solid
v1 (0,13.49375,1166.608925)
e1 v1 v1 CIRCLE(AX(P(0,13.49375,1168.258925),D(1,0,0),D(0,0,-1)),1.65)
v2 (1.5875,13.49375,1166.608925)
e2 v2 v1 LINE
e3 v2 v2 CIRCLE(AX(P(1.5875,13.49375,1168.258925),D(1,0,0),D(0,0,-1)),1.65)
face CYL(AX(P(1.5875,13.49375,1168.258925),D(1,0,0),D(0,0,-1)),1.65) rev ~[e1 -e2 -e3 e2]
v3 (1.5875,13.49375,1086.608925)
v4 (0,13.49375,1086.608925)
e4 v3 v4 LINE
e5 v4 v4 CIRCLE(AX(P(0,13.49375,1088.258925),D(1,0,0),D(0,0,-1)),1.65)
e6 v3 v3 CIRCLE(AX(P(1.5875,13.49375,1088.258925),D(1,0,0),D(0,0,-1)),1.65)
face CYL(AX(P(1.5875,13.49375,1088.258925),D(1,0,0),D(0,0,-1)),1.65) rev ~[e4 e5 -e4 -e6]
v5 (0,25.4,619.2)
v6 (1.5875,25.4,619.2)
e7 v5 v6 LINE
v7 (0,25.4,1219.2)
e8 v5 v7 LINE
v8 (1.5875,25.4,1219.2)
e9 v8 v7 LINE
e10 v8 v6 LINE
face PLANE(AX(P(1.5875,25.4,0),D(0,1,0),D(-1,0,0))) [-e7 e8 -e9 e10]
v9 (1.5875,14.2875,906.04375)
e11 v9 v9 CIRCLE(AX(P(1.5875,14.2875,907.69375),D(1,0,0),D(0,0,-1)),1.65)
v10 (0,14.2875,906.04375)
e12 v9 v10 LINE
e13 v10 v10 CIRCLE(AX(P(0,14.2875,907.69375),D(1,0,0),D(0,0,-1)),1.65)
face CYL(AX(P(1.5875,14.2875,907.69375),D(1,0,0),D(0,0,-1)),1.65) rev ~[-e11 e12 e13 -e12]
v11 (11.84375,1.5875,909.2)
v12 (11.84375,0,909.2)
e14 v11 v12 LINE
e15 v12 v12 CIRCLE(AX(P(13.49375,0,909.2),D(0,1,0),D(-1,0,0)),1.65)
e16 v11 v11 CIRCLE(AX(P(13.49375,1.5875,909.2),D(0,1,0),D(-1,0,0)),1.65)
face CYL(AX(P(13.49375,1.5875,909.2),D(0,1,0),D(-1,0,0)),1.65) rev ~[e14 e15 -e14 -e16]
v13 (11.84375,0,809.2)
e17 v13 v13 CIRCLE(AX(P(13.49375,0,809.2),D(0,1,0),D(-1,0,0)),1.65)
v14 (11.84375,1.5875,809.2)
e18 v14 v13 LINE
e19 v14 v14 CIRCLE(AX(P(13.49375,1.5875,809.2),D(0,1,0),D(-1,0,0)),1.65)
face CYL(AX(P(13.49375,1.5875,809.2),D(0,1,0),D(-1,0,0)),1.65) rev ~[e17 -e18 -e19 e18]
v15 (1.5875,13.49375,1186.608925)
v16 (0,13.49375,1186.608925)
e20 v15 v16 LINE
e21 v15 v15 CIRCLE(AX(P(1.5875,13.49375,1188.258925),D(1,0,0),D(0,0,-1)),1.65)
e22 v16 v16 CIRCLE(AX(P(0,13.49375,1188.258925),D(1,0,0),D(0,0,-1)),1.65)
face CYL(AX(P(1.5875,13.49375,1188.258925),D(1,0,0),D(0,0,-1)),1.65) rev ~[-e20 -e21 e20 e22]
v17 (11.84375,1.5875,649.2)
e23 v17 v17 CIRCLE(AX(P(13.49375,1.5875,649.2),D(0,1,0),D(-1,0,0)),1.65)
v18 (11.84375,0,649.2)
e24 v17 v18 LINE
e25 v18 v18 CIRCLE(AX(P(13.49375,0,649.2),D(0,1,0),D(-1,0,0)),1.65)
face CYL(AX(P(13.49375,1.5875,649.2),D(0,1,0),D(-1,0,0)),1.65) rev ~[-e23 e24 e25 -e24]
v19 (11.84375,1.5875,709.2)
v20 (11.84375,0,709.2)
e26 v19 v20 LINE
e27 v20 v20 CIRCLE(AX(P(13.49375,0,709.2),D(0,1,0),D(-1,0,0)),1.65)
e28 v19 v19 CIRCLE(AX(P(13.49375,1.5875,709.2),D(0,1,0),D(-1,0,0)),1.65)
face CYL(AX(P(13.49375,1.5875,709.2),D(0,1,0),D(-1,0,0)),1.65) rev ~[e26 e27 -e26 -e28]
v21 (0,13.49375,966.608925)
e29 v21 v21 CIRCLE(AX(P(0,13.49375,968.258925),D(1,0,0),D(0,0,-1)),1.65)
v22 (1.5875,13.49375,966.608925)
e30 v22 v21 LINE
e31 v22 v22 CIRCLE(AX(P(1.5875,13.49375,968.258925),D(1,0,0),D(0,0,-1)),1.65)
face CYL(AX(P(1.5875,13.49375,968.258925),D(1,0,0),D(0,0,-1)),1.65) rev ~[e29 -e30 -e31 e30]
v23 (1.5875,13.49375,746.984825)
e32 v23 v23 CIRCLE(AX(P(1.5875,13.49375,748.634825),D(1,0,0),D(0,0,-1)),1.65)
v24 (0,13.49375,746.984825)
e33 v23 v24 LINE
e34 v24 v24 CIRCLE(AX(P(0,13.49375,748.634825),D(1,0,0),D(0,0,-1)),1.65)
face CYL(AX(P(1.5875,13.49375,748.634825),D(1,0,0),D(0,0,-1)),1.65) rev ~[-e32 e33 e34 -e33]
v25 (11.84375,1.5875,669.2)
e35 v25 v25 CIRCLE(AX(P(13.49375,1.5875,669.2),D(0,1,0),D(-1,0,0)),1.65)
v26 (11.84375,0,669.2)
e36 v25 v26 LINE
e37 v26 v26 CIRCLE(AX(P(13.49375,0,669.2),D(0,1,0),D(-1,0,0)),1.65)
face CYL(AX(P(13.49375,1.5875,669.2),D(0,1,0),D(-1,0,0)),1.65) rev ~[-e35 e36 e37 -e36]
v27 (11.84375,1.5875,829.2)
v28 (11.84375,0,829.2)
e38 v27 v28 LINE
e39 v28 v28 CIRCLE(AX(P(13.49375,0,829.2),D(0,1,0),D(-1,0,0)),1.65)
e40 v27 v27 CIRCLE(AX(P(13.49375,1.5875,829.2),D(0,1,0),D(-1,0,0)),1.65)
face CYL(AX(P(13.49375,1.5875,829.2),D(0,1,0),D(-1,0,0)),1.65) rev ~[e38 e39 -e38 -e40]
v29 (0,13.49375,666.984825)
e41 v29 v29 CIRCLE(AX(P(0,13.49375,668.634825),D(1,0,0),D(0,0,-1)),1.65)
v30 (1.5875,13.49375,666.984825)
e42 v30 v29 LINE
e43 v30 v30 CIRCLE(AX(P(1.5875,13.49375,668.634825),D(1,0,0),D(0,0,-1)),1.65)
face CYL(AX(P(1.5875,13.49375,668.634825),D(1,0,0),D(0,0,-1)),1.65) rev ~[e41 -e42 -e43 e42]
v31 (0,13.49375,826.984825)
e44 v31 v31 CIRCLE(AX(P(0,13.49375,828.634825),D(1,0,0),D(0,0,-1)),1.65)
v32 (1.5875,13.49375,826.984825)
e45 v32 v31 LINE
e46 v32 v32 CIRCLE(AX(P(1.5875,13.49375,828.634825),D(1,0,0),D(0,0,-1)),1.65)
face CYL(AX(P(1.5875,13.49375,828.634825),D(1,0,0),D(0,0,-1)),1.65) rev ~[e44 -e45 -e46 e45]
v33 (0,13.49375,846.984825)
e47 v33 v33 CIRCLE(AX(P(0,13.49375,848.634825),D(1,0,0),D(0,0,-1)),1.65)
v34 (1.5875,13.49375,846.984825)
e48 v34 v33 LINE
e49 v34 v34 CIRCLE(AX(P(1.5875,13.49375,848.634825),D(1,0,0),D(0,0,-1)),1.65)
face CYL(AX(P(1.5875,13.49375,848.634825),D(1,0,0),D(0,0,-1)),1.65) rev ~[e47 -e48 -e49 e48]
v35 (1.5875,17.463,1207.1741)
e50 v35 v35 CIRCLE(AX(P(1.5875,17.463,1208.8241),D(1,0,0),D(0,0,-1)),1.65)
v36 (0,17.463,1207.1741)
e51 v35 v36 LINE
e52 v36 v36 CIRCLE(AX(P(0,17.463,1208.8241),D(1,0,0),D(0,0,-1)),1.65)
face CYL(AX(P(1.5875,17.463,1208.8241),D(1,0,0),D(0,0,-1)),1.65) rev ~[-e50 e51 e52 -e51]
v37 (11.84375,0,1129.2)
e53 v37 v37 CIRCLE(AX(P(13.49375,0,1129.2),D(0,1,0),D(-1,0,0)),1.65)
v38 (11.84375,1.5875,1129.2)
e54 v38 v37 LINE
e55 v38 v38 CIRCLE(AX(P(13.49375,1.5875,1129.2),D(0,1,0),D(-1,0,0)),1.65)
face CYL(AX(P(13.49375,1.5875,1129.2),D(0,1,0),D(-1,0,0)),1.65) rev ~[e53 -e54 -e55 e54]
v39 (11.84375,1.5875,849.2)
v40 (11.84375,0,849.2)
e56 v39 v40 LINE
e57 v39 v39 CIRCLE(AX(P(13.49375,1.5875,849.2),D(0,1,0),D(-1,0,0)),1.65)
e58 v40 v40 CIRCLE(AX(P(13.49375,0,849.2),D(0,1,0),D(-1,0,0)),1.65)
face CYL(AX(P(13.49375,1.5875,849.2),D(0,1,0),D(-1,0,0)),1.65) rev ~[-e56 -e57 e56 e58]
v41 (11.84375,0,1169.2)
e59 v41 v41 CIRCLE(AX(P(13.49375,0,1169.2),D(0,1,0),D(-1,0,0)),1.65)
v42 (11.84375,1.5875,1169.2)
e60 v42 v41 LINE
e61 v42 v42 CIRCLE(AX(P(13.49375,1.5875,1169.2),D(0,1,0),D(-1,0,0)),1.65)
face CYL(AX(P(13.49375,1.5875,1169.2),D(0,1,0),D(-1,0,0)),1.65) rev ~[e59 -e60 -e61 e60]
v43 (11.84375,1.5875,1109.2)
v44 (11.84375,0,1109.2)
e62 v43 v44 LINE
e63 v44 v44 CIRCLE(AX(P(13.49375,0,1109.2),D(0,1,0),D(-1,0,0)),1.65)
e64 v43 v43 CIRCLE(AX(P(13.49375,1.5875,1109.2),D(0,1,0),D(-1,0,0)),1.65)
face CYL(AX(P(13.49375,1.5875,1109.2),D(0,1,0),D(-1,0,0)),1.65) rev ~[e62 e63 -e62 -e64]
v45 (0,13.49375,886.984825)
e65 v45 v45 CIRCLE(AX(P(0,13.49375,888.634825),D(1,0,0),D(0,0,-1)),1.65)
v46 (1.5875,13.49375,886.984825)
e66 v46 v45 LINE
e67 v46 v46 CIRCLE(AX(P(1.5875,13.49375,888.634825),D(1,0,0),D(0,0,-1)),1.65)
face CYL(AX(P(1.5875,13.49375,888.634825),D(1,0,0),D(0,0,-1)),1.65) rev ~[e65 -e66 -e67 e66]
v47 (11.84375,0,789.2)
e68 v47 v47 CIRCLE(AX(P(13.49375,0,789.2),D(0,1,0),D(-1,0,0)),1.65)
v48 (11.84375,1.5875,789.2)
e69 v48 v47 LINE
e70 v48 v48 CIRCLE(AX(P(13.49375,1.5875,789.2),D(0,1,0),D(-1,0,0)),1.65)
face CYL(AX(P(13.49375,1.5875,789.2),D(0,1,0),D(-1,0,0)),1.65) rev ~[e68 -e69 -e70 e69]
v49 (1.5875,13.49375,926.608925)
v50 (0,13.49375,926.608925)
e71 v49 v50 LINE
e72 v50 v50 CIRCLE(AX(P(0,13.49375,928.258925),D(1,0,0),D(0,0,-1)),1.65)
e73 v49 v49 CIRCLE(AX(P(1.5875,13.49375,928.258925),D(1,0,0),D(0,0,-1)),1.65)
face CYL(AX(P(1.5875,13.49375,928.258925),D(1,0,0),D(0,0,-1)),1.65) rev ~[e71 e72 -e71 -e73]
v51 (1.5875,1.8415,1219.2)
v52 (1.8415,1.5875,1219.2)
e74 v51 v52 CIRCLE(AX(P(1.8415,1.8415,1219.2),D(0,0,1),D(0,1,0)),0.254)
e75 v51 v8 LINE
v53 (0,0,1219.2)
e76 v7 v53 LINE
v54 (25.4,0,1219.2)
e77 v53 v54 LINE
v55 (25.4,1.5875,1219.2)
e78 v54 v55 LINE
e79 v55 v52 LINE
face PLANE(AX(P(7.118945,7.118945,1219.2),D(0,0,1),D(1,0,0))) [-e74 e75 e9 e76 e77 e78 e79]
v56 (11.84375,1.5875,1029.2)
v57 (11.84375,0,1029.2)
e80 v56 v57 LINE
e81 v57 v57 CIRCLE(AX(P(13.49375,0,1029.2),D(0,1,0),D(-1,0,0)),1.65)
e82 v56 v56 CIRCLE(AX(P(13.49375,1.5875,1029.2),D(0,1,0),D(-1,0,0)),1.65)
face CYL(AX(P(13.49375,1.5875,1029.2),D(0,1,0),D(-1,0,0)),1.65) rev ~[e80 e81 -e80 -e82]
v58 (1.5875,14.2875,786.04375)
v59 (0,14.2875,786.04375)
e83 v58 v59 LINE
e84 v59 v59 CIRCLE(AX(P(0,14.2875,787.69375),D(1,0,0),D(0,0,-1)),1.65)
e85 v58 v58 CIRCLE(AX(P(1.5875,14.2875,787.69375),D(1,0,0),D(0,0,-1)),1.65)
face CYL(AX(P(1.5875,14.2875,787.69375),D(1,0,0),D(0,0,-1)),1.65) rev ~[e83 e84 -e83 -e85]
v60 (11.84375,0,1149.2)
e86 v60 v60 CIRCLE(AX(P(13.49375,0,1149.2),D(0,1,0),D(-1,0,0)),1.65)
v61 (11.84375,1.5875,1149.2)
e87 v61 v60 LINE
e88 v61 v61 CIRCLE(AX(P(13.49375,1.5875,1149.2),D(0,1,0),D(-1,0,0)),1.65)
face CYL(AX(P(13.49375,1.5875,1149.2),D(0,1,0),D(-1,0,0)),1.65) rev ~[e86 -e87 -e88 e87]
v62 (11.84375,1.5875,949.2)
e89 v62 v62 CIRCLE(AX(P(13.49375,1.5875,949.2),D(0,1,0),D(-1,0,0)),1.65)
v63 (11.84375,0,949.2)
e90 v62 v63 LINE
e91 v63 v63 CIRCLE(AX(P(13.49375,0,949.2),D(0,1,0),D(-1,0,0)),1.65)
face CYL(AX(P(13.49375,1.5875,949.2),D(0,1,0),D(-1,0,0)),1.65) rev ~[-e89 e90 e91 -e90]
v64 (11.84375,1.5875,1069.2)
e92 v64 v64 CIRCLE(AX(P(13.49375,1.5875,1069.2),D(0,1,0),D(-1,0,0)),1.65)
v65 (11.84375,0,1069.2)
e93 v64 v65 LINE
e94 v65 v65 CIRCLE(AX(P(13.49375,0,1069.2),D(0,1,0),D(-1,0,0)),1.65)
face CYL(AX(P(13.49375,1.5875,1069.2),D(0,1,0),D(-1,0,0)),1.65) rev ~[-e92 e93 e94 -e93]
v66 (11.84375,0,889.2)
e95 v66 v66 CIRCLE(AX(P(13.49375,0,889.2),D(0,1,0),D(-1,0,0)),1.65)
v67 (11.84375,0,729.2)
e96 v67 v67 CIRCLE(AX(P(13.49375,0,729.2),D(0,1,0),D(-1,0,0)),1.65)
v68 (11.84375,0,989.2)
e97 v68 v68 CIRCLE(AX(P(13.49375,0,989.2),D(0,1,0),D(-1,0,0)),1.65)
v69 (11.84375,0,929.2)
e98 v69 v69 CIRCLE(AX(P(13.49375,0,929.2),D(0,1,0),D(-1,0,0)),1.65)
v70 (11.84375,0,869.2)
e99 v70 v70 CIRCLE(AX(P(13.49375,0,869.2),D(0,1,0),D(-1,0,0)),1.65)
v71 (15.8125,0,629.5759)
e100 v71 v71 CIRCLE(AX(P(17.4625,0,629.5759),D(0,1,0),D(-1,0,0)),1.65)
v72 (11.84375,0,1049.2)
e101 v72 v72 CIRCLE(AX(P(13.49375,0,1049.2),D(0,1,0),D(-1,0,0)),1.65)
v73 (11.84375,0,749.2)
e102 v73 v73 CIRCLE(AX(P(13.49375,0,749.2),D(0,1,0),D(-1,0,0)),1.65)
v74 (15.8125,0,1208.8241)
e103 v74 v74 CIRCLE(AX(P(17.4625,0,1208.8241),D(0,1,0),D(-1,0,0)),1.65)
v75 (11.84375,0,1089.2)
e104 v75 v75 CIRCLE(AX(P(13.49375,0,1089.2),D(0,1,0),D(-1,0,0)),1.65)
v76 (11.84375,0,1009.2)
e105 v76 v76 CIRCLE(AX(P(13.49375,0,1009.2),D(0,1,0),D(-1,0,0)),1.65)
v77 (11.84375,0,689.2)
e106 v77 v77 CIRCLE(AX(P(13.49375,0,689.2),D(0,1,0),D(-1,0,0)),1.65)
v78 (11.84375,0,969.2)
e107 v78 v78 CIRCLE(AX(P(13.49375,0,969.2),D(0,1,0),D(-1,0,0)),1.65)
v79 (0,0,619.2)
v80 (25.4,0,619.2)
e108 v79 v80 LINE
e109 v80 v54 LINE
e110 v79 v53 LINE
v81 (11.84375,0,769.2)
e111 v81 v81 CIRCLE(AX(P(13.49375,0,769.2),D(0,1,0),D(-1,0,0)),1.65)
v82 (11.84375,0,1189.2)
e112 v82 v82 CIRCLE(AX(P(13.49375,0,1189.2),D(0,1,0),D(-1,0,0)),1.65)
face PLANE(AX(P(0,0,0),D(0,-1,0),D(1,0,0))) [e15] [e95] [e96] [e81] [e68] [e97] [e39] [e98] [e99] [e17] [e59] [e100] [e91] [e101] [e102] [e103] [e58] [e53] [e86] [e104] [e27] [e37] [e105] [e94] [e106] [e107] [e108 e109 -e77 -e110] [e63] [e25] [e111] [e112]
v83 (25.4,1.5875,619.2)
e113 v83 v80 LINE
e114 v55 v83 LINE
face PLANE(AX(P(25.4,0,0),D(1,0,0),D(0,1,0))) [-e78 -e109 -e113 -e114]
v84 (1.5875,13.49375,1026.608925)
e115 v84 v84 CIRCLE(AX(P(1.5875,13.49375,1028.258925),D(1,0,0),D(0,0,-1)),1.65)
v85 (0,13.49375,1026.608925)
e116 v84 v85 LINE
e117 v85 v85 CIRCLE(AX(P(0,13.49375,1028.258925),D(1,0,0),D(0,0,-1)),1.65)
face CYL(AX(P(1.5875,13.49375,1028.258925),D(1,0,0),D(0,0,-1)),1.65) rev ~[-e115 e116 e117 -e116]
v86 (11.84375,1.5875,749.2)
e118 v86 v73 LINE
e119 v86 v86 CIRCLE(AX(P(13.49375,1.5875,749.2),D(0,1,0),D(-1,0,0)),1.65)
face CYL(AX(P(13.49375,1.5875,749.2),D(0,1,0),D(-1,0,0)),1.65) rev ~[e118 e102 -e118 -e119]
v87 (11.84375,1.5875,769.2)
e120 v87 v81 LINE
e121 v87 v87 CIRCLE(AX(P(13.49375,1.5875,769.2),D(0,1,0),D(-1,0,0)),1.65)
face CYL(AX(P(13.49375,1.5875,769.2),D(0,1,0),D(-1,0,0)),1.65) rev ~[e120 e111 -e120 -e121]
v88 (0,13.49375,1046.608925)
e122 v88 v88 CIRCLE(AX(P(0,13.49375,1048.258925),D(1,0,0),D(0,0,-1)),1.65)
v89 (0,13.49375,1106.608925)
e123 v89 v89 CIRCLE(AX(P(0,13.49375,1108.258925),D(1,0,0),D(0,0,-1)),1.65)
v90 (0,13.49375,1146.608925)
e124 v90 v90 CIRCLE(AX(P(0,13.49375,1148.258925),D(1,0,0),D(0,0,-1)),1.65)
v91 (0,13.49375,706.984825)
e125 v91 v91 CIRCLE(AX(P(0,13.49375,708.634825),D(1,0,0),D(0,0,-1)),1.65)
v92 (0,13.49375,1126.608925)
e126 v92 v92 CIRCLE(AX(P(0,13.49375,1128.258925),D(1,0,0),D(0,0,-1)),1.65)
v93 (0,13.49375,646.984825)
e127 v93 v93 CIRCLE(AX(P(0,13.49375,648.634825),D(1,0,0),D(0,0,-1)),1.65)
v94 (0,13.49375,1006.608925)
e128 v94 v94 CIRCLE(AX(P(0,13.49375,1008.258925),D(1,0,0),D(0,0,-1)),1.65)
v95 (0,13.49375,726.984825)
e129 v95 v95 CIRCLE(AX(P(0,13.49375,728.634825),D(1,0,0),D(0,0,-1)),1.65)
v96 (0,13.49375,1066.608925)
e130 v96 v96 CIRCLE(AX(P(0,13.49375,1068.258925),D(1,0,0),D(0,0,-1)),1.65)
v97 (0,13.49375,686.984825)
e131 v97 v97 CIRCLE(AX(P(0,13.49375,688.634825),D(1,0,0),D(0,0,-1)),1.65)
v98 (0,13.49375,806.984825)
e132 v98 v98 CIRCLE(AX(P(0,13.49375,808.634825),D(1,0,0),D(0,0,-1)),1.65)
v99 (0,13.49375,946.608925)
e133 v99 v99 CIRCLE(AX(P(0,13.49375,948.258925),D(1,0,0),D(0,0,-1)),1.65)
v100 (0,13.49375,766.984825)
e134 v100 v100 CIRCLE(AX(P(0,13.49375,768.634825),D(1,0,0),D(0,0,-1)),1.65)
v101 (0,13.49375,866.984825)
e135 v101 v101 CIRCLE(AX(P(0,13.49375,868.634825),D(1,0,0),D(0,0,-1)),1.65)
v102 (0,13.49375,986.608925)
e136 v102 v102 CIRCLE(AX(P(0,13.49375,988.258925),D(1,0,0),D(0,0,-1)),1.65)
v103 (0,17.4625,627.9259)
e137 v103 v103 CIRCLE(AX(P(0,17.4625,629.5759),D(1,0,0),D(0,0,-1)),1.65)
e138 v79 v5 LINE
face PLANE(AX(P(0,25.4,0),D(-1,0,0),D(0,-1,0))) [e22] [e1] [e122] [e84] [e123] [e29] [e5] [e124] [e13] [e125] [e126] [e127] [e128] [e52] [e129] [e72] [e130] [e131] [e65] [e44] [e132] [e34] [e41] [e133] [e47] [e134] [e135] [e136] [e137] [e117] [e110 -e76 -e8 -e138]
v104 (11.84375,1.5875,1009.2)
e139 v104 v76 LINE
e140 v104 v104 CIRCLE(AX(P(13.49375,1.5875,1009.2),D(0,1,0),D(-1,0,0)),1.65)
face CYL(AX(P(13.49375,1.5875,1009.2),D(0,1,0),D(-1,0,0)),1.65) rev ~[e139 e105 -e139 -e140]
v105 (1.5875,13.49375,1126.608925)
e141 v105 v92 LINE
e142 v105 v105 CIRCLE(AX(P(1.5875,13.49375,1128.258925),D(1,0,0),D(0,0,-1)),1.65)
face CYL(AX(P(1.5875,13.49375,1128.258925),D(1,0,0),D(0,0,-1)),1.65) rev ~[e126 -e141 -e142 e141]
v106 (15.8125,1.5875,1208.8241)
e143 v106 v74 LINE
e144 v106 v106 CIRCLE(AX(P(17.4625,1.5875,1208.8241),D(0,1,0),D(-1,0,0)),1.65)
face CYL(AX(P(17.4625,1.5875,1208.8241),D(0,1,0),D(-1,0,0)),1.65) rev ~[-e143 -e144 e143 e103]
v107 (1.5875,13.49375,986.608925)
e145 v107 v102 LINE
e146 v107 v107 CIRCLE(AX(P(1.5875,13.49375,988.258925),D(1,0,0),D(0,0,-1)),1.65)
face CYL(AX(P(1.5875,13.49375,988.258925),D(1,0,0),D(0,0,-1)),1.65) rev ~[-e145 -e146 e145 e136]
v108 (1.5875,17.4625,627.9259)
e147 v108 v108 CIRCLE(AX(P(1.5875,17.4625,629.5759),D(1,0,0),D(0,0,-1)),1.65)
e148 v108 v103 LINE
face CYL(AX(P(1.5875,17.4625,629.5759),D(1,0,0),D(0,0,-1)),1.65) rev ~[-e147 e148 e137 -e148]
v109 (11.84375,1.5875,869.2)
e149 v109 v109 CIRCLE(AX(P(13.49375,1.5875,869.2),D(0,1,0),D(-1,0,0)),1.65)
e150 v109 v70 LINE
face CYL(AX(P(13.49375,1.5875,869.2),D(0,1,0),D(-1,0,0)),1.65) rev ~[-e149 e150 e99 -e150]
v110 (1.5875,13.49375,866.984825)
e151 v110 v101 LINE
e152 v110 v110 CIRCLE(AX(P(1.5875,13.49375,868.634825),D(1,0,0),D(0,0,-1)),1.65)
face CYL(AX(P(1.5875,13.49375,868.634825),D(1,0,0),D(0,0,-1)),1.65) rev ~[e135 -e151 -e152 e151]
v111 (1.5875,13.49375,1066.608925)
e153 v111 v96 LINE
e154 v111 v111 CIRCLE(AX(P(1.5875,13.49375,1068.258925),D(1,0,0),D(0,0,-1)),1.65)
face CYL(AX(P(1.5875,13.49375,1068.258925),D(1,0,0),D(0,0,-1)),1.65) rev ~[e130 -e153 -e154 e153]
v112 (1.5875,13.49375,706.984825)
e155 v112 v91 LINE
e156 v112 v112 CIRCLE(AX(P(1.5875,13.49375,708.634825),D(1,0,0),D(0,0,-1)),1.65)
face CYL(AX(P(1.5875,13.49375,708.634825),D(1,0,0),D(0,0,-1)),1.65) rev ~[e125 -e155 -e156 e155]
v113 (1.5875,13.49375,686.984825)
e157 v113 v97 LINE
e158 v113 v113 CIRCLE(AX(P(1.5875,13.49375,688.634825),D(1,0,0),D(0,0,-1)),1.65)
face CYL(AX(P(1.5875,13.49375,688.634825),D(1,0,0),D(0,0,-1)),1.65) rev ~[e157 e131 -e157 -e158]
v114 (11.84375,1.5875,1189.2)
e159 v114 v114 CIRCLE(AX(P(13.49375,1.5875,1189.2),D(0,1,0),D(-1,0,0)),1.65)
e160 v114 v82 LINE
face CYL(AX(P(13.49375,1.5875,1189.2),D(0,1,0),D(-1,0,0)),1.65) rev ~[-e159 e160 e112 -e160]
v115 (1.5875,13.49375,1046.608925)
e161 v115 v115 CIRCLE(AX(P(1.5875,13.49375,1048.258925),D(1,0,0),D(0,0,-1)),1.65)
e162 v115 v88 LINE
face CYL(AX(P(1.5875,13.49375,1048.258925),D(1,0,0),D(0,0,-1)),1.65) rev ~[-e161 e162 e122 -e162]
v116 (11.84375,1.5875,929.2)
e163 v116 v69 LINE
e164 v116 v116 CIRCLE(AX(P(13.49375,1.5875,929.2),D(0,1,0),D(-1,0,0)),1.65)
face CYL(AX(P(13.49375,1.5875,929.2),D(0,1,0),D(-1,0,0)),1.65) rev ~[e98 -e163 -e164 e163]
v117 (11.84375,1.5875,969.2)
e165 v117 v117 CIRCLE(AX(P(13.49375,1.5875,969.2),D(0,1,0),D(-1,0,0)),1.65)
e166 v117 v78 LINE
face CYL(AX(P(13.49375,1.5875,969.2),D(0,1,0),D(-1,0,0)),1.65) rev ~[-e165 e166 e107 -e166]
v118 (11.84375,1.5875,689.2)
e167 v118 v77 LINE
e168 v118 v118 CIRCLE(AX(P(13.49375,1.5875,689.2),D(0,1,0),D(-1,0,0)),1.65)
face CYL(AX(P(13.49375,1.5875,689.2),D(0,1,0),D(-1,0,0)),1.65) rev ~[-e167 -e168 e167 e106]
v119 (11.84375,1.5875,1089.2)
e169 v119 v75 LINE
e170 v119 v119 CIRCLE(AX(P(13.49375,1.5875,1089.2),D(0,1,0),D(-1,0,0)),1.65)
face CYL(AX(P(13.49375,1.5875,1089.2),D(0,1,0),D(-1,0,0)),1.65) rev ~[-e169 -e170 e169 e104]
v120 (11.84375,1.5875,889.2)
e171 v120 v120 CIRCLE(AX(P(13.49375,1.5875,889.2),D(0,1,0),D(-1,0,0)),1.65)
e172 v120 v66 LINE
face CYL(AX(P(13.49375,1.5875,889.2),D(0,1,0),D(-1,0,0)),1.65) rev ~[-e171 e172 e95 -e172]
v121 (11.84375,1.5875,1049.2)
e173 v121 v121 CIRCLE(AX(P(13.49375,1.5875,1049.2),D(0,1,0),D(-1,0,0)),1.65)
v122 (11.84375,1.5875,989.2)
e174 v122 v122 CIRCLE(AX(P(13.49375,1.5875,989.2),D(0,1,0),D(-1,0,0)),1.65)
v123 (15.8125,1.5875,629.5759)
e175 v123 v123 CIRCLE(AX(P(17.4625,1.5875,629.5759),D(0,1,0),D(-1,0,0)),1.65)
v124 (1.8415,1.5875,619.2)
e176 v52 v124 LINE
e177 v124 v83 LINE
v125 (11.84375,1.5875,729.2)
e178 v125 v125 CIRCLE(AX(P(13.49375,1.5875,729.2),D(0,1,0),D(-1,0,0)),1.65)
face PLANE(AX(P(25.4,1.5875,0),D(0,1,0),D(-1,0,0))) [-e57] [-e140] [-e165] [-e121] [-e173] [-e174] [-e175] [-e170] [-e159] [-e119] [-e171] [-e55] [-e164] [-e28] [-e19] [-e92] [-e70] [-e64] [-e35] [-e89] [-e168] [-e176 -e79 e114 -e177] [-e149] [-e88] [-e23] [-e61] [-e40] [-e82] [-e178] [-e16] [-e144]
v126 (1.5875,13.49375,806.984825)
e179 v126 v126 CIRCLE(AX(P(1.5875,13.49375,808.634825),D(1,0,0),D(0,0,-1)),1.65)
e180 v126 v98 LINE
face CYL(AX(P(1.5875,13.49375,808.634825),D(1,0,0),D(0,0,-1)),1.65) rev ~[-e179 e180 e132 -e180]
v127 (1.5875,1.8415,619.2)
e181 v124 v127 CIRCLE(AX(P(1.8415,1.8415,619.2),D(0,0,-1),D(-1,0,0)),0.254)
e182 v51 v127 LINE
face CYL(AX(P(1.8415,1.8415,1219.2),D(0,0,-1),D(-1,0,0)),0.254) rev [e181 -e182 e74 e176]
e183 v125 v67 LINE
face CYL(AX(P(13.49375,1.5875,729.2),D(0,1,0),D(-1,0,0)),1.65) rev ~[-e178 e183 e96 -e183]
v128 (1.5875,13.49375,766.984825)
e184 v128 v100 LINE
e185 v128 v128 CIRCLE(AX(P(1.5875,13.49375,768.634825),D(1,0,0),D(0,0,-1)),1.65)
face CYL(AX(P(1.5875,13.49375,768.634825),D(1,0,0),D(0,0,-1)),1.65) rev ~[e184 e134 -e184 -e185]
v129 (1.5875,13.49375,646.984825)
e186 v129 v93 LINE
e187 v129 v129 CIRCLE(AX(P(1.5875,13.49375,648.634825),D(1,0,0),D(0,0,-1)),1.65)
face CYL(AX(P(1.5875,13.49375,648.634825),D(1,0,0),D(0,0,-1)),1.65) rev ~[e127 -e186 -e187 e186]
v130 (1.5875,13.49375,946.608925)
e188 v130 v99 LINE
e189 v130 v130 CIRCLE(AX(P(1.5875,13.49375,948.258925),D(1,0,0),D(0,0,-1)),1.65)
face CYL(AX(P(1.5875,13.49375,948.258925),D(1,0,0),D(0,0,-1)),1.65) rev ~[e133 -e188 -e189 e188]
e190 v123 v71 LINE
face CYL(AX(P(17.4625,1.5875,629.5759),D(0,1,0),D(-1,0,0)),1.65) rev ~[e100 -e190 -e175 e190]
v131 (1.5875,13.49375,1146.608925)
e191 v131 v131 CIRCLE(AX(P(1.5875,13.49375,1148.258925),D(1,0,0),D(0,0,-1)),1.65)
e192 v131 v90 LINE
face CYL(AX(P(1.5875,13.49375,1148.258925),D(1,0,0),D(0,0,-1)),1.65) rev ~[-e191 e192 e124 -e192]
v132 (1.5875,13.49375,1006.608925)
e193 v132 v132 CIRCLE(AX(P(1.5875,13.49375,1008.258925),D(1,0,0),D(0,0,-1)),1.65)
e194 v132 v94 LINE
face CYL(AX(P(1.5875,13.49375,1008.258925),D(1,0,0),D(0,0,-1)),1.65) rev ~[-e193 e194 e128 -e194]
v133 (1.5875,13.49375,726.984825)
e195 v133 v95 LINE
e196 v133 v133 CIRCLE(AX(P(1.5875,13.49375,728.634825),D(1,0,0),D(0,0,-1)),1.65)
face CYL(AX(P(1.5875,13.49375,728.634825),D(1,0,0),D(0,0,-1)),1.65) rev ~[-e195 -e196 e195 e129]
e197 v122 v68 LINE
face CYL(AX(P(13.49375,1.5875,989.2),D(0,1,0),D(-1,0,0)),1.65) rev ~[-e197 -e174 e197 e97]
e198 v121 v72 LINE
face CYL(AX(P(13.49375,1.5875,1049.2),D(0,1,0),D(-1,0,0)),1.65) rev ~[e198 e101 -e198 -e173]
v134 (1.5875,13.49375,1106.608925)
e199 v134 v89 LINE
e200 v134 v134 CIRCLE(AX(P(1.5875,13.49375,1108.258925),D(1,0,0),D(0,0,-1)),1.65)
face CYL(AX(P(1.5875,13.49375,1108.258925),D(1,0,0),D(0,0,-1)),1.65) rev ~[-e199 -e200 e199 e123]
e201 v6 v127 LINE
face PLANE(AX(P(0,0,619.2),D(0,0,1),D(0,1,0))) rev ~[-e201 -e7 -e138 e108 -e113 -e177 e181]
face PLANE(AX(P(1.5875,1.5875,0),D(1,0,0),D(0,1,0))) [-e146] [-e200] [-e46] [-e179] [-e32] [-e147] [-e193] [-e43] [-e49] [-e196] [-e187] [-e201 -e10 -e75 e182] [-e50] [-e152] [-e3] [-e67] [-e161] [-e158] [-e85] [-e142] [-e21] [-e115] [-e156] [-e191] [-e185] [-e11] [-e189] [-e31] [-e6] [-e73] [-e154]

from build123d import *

# Parameters (mm, degrees)
BOSS_EXTRUDE1_DEPTH = 1219.2
FILLET1_R           = 0.254
SKETCH4_W           = 1838.4
SKETCH4_H           = 74.945320812
CUT_EXTRUDE1_DEPTH  = 60
SKETCH5_R           = 1.65
CUT_EXTRUDE2_DEPTH  = 10
SKETCH9_R           = 1.65
CUT_EXTRUDE6_DEPTH  = 60


with BuildPart() as part:
    # Sketch3 → Boss-Extrude1 (new, symmetric)
    with BuildSketch(Plane.XY):
        Polygon((1.5875, 25.4), (0, 25.4), (0, 0), (25.4, 0), (25.4, 1.5875), (1.5875, 1.5875), align=None)
    extrude(amount=BOSS_EXTRUDE1_DEPTH, both=True)

    # Fillet1
    fillet1_edges = [part.edges().sort_by_distance(p)[0] for p in [
        (1.5875, 1.5875, 0),
    ]]
    fillet(fillet1_edges, radius=FILLET1_R)

    # Sketch4 → Cut-Extrude1 (cut)
    with BuildSketch(Plane.ZY):
        with Locations((-300, 37.472660406)):
            Rectangle(SKETCH4_W, SKETCH4_H)
    extrude(amount=-CUT_EXTRUDE1_DEPTH, mode=Mode.SUBTRACT)

    # Sketch5 → Cut-Extrude2 (cut)
    with BuildSketch(Plane(origin=(0, 1.5875, 0), x_dir=(1, 0, 0), z_dir=(0, 1, 0))):
        with Locations(Location((17.4625, -629.5759, 0), (0, 0, 180))):
            Circle(SKETCH5_R)
        with Locations(Location((17.4625, -1208.8241, 0), (0, 0, 180))):
            Circle(SKETCH5_R)
        with Locations(Location((13.49375, -1189.2, 0), (0, 0, 180))):
            Circle(SKETCH5_R)
        with Locations(Location((13.49375, -1169.2, 0), (0, 0, 180))):
            Circle(SKETCH5_R)
        with Locations(Location((13.49375, -1149.2, 0), (0, 0, 180))):
            Circle(SKETCH5_R)
        with Locations(Location((13.49375, -1129.2, 0), (0, 0, 180))):
            Circle(SKETCH5_R)
        with Locations(Location((13.49375, -1109.2, 0), (0, 0, 180))):
            Circle(SKETCH5_R)
        with Locations(Location((13.49375, -1089.2, 0), (0, 0, 180))):
            Circle(SKETCH5_R)
        with Locations(Location((13.49375, -1069.2, 0), (0, 0, 180))):
            Circle(SKETCH5_R)
        with Locations(Location((13.49375, -1049.2, 0), (0, 0, 180))):
            Circle(SKETCH5_R)
        with Locations(Location((13.49375, -1029.2, 0), (0, 0, 180))):
            Circle(SKETCH5_R)
        with Locations(Location((13.49375, -1009.2, 0), (0, 0, 180))):
            Circle(SKETCH5_R)
        with Locations(Location((13.49375, -989.2, 0), (0, 0, 180))):
            Circle(SKETCH5_R)
        with Locations(Location((13.49375, -969.2, 0), (0, 0, 180))):
            Circle(SKETCH5_R)
        with Locations(Location((13.49375, -949.2, 0), (0, 0, 180))):
            Circle(SKETCH5_R)
        with Locations(Location((13.49375, -929.2, 0), (0, 0, 180))):
            Circle(SKETCH5_R)
        with Locations(Location((13.49375, -909.2, 0), (0, 0, 180))):
            Circle(SKETCH5_R)
        with Locations(Location((13.49375, -889.2, 0), (0, 0, 180))):
            Circle(SKETCH5_R)
        with Locations(Location((13.49375, -869.2, 0), (0, 0, 180))):
            Circle(SKETCH5_R)
        with Locations(Location((13.49375, -849.2, 0), (0, 0, 180))):
            Circle(SKETCH5_R)
        with Locations(Location((13.49375, -829.2, 0), (0, 0, 180))):
            Circle(SKETCH5_R)
        with Locations(Location((13.49375, -809.2, 0), (0, 0, 180))):
            Circle(SKETCH5_R)
        with Locations(Location((13.49375, -789.2, 0), (0, 0, 180))):
            Circle(SKETCH5_R)
        with Locations(Location((13.49375, -769.2, 0), (0, 0, 180))):
            Circle(SKETCH5_R)
        with Locations(Location((13.49375, -749.2, 0), (0, 0, 180))):
            Circle(SKETCH5_R)
        with Locations(Location((13.49375, -729.2, 0), (0, 0, 180))):
            Circle(SKETCH5_R)
        with Locations(Location((13.49375, -709.2, 0), (0, 0, 180))):
            Circle(SKETCH5_R)
        with Locations(Location((13.49375, -689.2, 0), (0, 0, 180))):
            Circle(SKETCH5_R)
        with Locations(Location((13.49375, -669.2, 0), (0, 0, 180))):
            Circle(SKETCH5_R)
        with Locations(Location((13.49375, -649.2, 0), (0, 0, 180))):
            Circle(SKETCH5_R)
    extrude(amount=-CUT_EXTRUDE2_DEPTH, mode=Mode.SUBTRACT)

    # Sketch9 → Cut-Extrude6 (cut)
    with BuildSketch(Plane(origin=(1.5875, 0, 0), x_dir=(0, 0, -1), z_dir=(1, 0, 0))):
        with Locations((-629.5759, 17.4625)):
            Circle(SKETCH9_R)
        with Locations((-1208.8241, 17.463)):
            Circle(SKETCH9_R)
        with Locations((-1188.258925, 13.49375)):
            Circle(SKETCH9_R)
        with Locations((-1168.258925, 13.49375)):
            Circle(SKETCH9_R)
        with Locations((-1148.258925, 13.49375)):
            Circle(SKETCH9_R)
        with Locations((-1128.258925, 13.49375)):
            Circle(SKETCH9_R)
        with Locations((-1108.258925, 13.49375)):
            Circle(SKETCH9_R)
        with Locations((-1088.258925, 13.49375)):
            Circle(SKETCH9_R)
        with Locations((-1068.258925, 13.49375)):
            Circle(SKETCH9_R)
        with Locations((-1048.258925, 13.49375)):
            Circle(SKETCH9_R)
        with Locations((-1028.258925, 13.49375)):
            Circle(SKETCH9_R)
        with Locations((-1008.258925, 13.49375)):
            Circle(SKETCH9_R)
        with Locations((-988.258925, 13.49375)):
            Circle(SKETCH9_R)
        with Locations((-968.258925, 13.49375)):
            Circle(SKETCH9_R)
        with Locations((-948.258925, 13.49375)):
            Circle(SKETCH9_R)
        with Locations((-928.258925, 13.49375)):
            Circle(SKETCH9_R)
        with Locations((-787.69375, 14.2875)):
            Circle(SKETCH9_R)
        with Locations((-907.69375, 14.2875)):
            Circle(SKETCH9_R)
        with Locations((-648.634825, 13.49375)):
            Circle(SKETCH9_R)
        with Locations((-668.634825, 13.49375)):
            Circle(SKETCH9_R)
        with Locations((-688.634825, 13.49375)):
            Circle(SKETCH9_R)
        with Locations((-708.634825, 13.49375)):
            Circle(SKETCH9_R)
        with Locations((-728.634825, 13.49375)):
            Circle(SKETCH9_R)
        with Locations((-748.634825, 13.49375)):
            Circle(SKETCH9_R)
        with Locations((-768.634825, 13.49375)):
            Circle(SKETCH9_R)
        with Locations((-808.634825, 13.49375)):
            Circle(SKETCH9_R)
        with Locations((-828.634825, 13.49375)):
            Circle(SKETCH9_R)
        with Locations((-848.634825, 13.49375)):
            Circle(SKETCH9_R)
        with Locations((-868.634825, 13.49375)):
            Circle(SKETCH9_R)
        with Locations((-888.634825, 13.49375)):
            Circle(SKETCH9_R)
    extrude(amount=-CUT_EXTRUDE6_DEPTH, mode=Mode.SUBTRACT)


solid = part.part
